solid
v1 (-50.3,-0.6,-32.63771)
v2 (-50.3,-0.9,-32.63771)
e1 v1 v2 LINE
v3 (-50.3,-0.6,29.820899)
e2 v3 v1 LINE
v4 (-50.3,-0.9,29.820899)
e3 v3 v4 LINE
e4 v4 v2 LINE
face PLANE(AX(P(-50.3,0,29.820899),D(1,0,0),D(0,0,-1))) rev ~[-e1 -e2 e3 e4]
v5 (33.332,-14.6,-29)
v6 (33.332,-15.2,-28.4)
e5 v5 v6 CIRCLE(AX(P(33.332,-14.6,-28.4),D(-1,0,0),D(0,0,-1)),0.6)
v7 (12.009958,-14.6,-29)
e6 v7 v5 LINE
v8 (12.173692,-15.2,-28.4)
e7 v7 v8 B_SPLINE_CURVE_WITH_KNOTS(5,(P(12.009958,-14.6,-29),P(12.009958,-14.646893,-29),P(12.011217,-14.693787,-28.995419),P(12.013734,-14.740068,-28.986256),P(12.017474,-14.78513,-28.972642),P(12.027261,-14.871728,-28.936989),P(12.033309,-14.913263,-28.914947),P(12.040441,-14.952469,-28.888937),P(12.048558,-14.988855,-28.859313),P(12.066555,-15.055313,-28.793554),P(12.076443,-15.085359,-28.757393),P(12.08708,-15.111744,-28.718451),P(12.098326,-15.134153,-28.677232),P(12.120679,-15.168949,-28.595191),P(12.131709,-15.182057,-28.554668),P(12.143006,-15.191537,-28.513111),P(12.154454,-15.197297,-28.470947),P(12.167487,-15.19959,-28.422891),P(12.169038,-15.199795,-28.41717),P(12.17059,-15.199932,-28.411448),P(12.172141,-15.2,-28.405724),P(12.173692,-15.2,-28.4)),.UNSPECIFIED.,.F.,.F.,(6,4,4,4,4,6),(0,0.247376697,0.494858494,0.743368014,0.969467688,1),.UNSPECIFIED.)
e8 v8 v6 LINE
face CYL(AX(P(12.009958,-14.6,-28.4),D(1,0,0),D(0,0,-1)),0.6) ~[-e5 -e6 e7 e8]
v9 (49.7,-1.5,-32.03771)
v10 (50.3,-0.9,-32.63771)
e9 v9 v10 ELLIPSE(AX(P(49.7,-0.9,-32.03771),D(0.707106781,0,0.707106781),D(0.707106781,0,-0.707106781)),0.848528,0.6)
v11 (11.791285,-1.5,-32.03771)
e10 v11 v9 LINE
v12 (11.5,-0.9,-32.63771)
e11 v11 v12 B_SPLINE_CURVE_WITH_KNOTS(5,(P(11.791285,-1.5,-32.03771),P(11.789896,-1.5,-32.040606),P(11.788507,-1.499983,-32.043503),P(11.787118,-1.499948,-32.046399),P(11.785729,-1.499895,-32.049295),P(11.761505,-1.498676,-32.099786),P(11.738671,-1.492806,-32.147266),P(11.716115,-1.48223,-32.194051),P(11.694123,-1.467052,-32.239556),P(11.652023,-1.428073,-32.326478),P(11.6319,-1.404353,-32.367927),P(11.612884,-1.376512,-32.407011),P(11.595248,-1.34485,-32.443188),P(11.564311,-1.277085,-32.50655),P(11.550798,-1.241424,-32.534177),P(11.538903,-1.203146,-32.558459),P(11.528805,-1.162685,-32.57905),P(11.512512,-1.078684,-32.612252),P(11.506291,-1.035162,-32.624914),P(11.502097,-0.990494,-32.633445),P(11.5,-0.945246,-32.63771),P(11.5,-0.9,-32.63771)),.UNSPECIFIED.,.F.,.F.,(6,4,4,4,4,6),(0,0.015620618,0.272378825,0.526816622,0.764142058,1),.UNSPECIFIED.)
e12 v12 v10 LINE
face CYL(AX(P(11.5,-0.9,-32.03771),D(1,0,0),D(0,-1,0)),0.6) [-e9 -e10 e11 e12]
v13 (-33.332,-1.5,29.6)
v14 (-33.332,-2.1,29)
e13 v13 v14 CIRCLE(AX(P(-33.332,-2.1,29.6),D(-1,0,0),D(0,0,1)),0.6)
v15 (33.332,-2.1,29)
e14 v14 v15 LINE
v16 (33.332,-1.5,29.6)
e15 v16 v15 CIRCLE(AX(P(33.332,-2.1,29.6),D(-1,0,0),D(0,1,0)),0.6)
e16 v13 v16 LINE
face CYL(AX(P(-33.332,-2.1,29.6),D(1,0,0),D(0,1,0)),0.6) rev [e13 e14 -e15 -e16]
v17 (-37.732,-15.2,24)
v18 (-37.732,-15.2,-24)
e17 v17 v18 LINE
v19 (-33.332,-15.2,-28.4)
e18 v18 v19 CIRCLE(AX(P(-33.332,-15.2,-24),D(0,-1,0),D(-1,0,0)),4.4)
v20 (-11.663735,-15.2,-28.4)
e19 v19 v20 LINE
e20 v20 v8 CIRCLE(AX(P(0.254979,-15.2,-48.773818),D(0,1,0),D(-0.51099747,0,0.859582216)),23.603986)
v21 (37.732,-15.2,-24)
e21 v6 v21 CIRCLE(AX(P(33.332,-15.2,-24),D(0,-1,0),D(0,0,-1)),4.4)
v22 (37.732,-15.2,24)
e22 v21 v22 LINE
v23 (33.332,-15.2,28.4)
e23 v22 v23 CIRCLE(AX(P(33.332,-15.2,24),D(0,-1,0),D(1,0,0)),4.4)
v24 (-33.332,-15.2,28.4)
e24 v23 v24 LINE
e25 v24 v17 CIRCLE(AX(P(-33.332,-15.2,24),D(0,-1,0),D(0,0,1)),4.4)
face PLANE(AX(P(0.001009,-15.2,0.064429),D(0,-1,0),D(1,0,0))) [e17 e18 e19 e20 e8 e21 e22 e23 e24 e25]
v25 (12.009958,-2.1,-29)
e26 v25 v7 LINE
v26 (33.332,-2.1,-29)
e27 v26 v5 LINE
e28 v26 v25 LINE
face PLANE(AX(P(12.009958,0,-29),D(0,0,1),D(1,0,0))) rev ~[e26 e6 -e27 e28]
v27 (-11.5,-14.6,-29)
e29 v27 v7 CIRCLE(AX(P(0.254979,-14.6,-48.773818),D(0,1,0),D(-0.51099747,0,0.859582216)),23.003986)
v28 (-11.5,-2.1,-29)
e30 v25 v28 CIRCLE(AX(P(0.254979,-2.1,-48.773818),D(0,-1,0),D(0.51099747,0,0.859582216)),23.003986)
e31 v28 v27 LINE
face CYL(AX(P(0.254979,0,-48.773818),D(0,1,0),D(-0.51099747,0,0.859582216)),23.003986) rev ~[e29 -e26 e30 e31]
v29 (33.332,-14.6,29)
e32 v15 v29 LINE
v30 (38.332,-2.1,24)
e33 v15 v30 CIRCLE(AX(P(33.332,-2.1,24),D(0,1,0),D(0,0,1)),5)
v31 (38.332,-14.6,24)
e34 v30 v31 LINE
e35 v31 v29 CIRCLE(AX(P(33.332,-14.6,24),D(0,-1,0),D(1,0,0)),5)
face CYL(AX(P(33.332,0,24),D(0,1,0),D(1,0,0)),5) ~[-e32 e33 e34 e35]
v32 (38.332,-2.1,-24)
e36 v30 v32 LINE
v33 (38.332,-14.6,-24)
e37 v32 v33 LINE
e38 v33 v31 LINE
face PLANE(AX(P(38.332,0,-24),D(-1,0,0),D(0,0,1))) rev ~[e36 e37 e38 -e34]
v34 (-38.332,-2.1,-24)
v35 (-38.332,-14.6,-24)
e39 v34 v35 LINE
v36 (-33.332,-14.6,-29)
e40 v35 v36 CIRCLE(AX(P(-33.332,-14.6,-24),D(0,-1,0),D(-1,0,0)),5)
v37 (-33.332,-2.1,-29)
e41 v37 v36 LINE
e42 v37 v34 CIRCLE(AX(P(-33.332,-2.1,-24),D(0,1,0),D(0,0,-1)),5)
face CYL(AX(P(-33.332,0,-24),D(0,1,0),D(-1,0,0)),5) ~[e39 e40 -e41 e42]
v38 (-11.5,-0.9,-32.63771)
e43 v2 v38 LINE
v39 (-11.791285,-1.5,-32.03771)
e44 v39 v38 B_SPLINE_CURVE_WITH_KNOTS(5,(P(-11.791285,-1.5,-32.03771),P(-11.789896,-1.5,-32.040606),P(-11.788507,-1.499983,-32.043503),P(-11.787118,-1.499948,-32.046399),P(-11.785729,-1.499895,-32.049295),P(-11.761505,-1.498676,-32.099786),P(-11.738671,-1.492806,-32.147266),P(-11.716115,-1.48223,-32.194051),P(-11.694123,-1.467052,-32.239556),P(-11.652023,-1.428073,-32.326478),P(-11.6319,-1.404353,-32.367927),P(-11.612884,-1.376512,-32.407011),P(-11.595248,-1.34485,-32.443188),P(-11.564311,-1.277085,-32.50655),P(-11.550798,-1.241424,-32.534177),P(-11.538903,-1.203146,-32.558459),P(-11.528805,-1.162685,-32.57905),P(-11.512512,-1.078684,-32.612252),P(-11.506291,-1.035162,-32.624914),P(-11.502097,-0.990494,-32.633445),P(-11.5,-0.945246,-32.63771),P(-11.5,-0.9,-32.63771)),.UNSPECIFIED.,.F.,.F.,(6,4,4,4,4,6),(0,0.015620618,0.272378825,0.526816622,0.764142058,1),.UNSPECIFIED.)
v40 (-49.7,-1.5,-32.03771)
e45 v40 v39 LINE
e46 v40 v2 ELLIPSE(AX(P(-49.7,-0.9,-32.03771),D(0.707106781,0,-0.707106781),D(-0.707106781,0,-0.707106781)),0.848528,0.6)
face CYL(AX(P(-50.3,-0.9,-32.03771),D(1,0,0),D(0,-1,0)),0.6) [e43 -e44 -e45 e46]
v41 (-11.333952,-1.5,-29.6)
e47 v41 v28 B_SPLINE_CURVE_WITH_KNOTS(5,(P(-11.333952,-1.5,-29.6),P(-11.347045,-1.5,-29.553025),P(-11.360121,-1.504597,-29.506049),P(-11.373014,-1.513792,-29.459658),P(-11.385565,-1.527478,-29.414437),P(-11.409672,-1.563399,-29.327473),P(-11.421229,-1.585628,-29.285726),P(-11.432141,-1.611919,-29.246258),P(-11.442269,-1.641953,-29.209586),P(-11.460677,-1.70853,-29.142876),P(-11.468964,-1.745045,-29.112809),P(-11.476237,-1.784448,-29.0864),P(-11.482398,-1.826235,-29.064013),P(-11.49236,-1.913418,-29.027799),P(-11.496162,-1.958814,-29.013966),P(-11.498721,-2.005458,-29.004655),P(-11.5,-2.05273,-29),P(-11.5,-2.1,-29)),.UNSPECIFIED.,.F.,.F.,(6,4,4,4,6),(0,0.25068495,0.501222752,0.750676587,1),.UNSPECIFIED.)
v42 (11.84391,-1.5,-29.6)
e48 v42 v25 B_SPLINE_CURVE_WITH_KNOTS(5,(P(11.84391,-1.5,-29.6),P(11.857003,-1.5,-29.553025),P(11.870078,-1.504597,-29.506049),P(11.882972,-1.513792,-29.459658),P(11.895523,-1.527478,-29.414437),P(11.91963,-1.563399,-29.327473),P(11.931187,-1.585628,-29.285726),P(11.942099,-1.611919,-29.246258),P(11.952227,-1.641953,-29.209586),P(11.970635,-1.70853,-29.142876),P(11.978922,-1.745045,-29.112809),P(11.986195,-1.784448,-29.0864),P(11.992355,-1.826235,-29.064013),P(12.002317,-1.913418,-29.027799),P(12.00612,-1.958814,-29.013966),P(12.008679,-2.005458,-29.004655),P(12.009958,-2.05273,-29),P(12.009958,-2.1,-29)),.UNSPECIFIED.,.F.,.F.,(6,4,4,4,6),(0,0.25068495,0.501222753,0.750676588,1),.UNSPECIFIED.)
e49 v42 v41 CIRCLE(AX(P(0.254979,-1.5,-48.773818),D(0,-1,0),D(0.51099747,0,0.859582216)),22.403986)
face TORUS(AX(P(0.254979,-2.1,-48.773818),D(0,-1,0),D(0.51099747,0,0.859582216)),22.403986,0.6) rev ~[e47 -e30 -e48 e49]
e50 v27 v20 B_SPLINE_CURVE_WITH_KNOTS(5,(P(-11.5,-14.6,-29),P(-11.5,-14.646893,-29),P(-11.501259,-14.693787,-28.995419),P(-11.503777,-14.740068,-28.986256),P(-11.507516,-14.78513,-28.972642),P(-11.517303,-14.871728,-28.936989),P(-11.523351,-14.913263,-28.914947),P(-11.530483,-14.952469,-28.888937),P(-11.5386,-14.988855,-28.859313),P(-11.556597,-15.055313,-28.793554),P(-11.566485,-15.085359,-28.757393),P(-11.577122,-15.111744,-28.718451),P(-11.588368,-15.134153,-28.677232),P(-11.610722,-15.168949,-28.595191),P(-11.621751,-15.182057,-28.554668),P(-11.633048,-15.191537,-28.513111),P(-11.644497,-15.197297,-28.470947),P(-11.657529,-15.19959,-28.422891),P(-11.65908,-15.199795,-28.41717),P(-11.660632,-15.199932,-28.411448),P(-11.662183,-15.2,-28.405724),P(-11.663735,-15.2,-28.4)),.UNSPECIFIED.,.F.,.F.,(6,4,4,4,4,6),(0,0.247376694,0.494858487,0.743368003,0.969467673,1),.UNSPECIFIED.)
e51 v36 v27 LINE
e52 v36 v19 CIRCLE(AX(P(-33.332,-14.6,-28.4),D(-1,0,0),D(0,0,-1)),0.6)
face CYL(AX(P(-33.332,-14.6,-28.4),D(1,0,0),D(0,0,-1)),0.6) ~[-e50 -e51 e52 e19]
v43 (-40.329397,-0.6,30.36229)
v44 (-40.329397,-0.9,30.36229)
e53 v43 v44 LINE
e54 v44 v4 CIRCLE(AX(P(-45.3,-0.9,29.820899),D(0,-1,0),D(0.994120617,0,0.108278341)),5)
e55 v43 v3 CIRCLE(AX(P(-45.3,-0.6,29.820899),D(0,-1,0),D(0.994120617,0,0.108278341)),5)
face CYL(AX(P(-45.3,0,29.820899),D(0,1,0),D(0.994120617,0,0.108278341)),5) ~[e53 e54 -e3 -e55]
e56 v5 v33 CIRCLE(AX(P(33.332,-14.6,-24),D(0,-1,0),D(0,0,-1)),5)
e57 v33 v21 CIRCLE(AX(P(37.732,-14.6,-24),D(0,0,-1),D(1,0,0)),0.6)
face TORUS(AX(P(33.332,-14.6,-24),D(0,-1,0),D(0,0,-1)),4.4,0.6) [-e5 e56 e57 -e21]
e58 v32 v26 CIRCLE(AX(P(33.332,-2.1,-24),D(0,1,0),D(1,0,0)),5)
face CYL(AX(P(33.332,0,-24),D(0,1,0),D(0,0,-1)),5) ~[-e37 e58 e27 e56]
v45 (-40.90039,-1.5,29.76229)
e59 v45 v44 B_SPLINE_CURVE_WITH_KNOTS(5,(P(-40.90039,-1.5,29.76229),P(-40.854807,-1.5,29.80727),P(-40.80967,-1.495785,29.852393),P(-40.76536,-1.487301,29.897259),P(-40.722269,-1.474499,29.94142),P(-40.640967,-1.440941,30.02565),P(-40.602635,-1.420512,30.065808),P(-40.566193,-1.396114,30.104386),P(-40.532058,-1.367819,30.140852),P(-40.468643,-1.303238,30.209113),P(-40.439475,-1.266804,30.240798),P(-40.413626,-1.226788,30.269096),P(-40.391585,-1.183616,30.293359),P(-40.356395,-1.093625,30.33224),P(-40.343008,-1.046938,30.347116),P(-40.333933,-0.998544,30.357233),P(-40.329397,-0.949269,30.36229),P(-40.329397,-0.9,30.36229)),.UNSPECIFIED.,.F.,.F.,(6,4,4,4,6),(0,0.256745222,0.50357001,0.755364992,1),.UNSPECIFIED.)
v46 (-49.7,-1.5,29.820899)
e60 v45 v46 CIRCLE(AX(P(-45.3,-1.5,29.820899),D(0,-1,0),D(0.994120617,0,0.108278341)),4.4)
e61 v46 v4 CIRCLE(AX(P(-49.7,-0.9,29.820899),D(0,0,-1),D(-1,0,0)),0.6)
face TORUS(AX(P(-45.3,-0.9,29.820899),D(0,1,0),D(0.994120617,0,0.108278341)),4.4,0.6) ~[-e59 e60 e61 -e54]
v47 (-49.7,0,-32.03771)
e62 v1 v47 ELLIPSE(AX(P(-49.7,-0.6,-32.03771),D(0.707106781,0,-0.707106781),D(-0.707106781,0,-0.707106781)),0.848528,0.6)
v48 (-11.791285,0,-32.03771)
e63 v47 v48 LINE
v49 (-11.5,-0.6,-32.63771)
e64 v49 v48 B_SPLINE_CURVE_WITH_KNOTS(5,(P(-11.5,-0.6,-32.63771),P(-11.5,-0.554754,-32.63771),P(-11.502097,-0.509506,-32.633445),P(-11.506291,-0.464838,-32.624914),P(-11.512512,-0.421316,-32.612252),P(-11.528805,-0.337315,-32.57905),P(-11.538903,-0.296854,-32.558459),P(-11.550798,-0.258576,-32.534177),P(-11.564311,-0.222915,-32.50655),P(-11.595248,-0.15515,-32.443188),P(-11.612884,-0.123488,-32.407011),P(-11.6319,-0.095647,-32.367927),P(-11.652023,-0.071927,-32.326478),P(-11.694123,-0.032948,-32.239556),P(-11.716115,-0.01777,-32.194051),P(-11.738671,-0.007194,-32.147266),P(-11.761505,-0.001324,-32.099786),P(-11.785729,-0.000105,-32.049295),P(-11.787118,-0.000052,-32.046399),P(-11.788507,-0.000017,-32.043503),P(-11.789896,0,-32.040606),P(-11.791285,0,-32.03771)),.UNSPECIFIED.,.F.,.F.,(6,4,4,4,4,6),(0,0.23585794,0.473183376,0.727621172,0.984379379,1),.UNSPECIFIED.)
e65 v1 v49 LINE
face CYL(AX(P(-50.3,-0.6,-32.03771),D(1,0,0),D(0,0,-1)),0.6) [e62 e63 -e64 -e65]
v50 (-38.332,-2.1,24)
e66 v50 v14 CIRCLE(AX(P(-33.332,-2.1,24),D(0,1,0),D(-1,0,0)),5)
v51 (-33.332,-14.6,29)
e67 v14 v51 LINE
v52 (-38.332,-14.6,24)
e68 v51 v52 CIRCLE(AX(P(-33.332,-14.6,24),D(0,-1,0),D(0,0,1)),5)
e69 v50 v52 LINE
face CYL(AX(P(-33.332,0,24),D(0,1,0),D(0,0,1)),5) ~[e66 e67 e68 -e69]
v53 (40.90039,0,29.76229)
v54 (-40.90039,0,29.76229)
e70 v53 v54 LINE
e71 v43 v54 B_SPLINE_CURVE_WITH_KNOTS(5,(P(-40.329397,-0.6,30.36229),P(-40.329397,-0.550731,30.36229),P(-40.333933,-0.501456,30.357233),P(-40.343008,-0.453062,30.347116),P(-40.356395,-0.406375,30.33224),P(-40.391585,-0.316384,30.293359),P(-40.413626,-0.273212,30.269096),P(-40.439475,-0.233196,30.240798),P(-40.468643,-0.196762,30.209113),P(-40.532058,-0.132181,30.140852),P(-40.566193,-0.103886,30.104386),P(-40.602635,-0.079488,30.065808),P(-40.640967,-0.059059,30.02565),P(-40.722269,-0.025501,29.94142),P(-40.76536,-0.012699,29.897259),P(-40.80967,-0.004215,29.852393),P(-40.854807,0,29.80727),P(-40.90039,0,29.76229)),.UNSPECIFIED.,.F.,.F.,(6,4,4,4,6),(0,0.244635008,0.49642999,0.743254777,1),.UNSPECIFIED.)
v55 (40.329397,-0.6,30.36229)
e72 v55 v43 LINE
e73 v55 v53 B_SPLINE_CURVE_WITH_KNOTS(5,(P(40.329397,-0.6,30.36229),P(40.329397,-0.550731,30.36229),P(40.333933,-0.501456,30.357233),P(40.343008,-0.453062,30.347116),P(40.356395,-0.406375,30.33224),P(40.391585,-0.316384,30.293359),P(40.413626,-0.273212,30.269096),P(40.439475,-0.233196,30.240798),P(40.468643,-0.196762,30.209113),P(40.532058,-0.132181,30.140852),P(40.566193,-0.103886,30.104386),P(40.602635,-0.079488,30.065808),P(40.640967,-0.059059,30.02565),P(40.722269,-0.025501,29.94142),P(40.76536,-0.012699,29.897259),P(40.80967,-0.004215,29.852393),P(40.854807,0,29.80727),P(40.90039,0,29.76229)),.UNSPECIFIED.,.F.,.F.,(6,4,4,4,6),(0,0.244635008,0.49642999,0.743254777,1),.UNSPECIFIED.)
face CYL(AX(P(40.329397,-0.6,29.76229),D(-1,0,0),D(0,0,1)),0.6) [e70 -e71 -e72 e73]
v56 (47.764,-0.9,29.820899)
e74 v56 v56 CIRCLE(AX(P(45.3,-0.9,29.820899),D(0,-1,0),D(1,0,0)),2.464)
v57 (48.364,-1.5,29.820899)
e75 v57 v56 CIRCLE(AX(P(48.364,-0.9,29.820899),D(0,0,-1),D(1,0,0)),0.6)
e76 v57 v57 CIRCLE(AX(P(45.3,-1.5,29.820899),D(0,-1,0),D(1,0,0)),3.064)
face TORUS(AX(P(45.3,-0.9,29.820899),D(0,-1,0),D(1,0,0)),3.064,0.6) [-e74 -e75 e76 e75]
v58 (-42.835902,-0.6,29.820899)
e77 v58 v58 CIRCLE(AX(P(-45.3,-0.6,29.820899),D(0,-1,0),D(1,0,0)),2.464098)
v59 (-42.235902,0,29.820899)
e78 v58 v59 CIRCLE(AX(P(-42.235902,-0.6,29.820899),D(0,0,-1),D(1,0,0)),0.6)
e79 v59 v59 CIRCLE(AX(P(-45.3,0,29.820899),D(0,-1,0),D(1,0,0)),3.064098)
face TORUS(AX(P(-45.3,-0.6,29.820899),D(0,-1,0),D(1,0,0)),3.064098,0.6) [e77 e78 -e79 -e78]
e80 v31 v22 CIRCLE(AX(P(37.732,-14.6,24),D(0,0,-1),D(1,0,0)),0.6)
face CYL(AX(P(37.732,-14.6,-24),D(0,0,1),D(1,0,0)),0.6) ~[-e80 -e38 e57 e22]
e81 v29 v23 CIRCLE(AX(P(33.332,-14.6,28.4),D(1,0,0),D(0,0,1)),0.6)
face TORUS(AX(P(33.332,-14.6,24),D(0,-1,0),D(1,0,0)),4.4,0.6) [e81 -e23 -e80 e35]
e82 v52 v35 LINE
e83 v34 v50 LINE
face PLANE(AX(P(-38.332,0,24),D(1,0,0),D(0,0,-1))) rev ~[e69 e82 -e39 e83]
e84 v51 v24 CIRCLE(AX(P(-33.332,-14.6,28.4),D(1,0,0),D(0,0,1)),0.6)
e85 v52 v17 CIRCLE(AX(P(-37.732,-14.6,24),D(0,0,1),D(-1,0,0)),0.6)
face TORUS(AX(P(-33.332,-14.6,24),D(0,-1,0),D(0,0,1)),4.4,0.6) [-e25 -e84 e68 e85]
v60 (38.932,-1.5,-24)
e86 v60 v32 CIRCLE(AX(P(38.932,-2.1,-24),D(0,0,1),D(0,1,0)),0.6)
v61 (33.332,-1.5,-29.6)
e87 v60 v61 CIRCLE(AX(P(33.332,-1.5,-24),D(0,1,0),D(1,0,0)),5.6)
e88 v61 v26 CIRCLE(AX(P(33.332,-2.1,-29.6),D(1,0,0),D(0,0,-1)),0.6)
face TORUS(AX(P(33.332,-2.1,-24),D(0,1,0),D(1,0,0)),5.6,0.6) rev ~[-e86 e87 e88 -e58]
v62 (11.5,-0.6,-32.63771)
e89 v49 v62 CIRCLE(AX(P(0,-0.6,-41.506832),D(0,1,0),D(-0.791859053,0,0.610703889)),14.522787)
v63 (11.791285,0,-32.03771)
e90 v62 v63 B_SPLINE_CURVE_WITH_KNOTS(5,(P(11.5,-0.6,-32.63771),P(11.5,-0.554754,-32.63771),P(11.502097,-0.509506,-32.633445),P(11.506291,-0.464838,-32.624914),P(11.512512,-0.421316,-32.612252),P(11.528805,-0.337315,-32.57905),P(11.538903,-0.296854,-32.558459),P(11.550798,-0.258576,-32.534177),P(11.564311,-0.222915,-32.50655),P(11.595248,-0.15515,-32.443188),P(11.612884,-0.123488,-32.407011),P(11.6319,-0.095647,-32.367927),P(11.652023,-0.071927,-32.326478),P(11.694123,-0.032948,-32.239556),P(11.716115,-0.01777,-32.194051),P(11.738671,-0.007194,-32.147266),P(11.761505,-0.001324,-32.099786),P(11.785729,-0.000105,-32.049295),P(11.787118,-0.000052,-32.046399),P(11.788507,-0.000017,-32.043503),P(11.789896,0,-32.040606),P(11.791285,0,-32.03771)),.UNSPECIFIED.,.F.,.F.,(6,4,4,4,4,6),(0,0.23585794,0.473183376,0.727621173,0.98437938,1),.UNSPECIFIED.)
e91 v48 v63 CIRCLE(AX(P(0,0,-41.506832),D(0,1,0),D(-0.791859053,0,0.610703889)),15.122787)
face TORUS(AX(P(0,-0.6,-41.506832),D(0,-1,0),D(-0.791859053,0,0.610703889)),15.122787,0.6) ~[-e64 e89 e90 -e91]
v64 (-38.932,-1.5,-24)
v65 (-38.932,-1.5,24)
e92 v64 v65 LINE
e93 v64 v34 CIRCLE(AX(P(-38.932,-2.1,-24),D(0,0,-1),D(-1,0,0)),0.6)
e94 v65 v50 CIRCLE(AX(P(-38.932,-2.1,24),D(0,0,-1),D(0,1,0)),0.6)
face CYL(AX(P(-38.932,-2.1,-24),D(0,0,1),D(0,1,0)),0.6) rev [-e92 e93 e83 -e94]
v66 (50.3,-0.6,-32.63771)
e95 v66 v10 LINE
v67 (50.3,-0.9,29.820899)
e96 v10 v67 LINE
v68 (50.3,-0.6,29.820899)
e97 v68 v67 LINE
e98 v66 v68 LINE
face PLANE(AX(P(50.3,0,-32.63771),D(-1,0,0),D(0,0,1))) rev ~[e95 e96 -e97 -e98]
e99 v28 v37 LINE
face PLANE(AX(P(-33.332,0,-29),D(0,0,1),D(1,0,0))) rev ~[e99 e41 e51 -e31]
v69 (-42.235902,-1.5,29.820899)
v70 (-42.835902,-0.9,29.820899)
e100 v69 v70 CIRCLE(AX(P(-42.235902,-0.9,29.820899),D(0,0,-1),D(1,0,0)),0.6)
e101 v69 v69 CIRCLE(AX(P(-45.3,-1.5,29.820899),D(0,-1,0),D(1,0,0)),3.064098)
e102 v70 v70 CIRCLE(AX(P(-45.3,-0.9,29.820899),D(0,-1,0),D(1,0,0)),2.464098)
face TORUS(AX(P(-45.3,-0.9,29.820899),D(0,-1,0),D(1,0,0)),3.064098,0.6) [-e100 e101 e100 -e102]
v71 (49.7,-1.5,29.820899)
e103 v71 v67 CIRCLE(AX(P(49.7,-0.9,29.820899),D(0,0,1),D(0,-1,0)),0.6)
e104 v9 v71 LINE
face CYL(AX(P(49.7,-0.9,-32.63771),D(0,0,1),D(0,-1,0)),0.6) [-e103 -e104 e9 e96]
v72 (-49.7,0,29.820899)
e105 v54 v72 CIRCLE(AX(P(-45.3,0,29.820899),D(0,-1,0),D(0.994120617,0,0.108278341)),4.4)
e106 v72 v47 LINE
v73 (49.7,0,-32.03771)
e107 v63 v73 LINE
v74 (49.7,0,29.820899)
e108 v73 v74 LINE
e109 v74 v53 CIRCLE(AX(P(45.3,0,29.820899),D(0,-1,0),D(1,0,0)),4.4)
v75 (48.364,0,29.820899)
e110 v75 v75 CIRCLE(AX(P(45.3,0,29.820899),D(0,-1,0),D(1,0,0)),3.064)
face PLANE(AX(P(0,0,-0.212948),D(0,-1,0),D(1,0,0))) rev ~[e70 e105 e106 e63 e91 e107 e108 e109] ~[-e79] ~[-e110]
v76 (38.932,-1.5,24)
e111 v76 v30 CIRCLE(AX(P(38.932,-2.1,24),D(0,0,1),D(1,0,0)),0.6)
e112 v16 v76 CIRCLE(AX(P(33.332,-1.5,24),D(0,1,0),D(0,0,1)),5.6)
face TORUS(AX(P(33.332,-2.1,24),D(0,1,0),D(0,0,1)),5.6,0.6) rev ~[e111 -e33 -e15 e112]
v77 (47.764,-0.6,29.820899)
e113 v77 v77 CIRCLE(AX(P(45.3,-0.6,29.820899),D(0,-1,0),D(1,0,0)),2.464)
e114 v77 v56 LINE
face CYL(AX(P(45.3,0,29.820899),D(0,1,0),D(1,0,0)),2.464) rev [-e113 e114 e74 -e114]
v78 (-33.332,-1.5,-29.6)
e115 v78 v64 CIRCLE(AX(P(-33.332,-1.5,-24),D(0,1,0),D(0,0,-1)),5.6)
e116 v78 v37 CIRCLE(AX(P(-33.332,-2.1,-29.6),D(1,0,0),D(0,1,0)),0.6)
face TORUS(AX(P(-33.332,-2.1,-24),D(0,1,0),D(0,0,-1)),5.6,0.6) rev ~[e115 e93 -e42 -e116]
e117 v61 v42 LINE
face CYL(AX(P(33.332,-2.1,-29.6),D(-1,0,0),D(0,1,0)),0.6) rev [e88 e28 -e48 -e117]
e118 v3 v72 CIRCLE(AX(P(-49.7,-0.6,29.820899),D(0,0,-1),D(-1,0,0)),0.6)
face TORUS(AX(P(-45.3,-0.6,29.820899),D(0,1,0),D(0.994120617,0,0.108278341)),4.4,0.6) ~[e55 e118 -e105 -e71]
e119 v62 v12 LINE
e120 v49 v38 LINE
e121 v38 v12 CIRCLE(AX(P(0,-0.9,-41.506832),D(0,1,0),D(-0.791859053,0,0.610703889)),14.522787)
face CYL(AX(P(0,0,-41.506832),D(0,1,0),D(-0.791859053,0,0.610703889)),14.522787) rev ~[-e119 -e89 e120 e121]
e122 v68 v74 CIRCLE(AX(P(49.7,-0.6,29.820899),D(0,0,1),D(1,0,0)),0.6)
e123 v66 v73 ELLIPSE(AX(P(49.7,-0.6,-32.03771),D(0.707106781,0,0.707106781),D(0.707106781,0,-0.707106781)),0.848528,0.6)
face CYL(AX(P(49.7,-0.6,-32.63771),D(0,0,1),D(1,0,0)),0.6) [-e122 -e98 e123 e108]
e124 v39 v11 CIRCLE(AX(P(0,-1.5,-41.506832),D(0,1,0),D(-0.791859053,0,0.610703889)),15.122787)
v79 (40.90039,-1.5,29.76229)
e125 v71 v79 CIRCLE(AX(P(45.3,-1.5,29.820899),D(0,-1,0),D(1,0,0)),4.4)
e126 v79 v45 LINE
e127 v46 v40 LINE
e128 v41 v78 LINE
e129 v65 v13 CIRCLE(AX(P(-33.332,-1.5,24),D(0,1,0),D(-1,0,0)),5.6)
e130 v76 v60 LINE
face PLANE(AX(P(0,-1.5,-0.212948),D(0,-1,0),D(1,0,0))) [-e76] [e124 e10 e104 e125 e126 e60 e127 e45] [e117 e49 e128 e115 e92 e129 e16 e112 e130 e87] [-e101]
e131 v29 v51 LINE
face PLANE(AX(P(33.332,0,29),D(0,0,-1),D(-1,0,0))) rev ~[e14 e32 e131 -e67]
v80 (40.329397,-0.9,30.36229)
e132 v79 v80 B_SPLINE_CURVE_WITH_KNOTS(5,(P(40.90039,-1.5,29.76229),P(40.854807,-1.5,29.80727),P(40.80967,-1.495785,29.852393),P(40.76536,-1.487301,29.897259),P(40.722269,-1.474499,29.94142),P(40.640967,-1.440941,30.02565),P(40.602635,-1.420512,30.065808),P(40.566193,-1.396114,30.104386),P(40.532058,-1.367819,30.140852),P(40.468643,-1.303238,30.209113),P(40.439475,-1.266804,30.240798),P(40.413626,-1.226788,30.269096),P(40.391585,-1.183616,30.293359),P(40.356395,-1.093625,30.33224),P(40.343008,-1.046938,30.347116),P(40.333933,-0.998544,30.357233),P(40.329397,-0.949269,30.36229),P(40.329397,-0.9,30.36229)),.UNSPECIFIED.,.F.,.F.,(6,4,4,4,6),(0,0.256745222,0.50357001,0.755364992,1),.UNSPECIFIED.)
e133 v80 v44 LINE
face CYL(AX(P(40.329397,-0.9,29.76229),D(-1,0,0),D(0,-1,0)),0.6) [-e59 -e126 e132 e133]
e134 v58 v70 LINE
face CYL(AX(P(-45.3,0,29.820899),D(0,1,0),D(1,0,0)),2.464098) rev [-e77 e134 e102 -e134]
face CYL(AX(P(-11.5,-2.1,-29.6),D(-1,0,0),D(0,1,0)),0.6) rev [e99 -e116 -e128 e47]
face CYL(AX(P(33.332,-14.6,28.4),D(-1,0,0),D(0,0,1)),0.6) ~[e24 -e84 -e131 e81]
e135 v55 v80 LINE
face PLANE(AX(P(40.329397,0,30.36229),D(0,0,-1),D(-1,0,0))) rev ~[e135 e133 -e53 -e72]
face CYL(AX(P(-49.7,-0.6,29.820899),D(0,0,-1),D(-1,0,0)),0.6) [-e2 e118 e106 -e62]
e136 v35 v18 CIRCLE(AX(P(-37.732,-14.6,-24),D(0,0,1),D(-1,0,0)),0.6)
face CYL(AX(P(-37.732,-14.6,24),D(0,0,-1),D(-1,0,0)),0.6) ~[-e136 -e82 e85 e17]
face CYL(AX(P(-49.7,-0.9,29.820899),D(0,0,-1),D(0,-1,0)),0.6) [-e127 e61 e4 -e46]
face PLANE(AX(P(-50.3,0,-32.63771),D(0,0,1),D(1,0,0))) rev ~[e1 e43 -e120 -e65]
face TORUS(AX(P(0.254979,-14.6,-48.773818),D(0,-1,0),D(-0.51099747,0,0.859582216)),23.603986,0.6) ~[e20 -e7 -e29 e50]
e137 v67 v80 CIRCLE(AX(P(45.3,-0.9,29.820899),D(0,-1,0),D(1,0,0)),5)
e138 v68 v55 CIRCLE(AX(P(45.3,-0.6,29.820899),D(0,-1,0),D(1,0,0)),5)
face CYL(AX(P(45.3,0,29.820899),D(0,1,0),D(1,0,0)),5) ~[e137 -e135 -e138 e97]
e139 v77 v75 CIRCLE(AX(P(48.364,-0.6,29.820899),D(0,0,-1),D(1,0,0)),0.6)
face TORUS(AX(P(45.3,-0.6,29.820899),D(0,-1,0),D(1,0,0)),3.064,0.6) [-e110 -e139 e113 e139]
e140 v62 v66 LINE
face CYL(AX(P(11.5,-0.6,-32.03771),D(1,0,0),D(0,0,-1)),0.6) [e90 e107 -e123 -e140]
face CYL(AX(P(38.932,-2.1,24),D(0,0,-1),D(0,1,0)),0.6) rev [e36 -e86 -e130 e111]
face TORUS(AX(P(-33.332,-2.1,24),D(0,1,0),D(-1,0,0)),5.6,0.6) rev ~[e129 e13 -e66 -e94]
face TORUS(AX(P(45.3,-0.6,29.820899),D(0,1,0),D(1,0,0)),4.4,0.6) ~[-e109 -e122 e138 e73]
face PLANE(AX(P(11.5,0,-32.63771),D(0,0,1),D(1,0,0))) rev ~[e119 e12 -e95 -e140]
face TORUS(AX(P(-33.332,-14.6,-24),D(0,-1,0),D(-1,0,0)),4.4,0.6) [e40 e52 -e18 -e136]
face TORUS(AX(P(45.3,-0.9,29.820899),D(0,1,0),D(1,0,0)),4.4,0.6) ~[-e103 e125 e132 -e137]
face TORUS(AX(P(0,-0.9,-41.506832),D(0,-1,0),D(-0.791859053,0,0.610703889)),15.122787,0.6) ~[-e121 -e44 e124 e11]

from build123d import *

# Parameters (mm, degrees)
F0_R     = 2.4640984725
F0_R_2   = 2.464
F1_DEPTH = 1.5
F2_DEPTH = 15.2
F3_R     = 0.6


with BuildPart() as f1:
    # F0 (on Front) → F1 (new body)
    with BuildSketch(Plane.XZ):
        with BuildLine():
            Line((11.5, -32.6377095831), (50.3, -32.6377095831))
            Line((50.3, -32.6377095831), (50.3, 29.8208987117))
            ThreePointArc((50.3, 29.8208987117), (45.5710946132, 34.8135440737), (40.3293969157, 30.3622904169))
            Line((40.3293969157, 30.3622904169), (-40.3293969157, 30.3622904169))
            ThreePointArc((-40.3293969157, 30.3622904169), (-45.5710946132, 34.8135440737), (-50.3, 29.8208987117))
            Line((-50.3, 29.8208987117), (-50.3, -32.6377095831))
            Line((-50.3, -32.6377095831), (-11.5, -32.6377095831))
            ThreePointArc((-11.5, -32.6377095831), (0, -26.9840452651), (11.5, -32.6377095831))
        make_face()
        with BuildLine():
            Line((-33.332, 29), (33.332, 29))
            ThreePointArc((33.332, 29), (36.8675339059, 27.5355339059), (38.332, 24))
            Line((38.332, 24), (38.332, -24))
            ThreePointArc((38.332, -24), (36.8675339059, -27.5355339059), (33.332, -29))
            Line((33.332, -29), (12.0099578053, -29))
            ThreePointArc((12.0099578053, -29), (0.2549789026, -25.769831184), (-11.5, -29))
            Line((-11.5, -29), (-33.332, -29))
            ThreePointArc((-33.332, -29), (-36.8675339059, -27.5355339059), (-38.332, -24))
            Line((-38.332, -24), (-38.332, 24))
            ThreePointArc((-38.332, 24), (-36.8675339059, 27.5355339059), (-33.332, 29))
        make_face(mode=Mode.SUBTRACT)
        with Locations((-45.3, 29.8208987117)):
            Circle(F0_R, mode=Mode.SUBTRACT)
        with Locations((45.3, 29.8208987117)):
            Circle(F0_R_2, mode=Mode.SUBTRACT)
    extrude(amount=F1_DEPTH)

    # F0 (on Front) → F2 (join)
    with BuildSketch(Plane.XZ):
        with BuildLine():
            ThreePointArc((38.332, 24), (36.8675339059, 27.5355339059), (33.332, 29))
            Line((33.332, 29), (-33.332, 29))
            ThreePointArc((-33.332, 29), (-36.8675339059, 27.5355339059), (-38.332, 24))
            Line((-38.332, 24), (-38.332, -24))
            ThreePointArc((-38.332, -24), (-36.8675339059, -27.5355339059), (-33.332, -29))
            Line((-33.332, -29), (-11.5, -29))
            ThreePointArc((-11.5, -29), (0.2549789026, -25.769831184), (12.0099578053, -29))
            Line((12.0099578053, -29), (33.332, -29))
            ThreePointArc((33.332, -29), (36.8675339059, -27.5355339059), (38.332, -24))
            Line((38.332, -24), (38.332, 24))
        make_face()
    extrude(amount=F2_DEPTH)

    # F3
    f3_edges = [f1.edges().sort_by_distance(p)[0] for p in [
        (36.867534, -15.2, 27.535534),
        (0, -15.2, 29),
        (-36.867534, -15.2, 27.535534),
        (-38.332, -15.2, 0),
        (-36.867534, -15.2, -27.535534),
        (-22.416, -15.2, -29),
        (0.254979, -15.2, -25.769831),
        (22.670979, -15.2, -29),
        (36.867534, -15.2, -27.535534),
        (38.332, -15.2, 0),
        (30.9, -1.5, -32.63771),
        (50.3, -1.5, -1.408405),
        (45.571095, -1.5, 34.813544),
        (0, -1.5, 30.36229),
        (-45.571095, -1.5, 34.813544),
        (-50.3, -1.5, -1.408405),
        (-30.9, -1.5, -32.63771),
        (0, -1.5, -26.984045),
        (0, -1.5, 29),
        (36.867534, -1.5, 27.535534),
        (38.332, -1.5, 0),
        (36.867534, -1.5, -27.535534),
        (22.670979, -1.5, -29),
        (0.254979, -1.5, -25.769831),
        (-22.416, -1.5, -29),
        (-36.867534, -1.5, -27.535534),
        (-38.332, -1.5, 0),
        (-36.867534, -1.5, 27.535534),
        (-47.764098, -1.5, 29.820899),
        (42.836, -1.5, 29.820899),
        (30.9, 0, -32.63771),
        (50.3, 0, -1.408405),
        (45.571095, 0, 34.813544),
        (0, 0, 30.36229),
        (-45.571095, 0, 34.813544),
        (-50.3, 0, -1.408405),
        (-30.9, 0, -32.63771),
        (0, 0, -26.984045),
        (-47.764098, 0, 29.820899),
        (42.836, 0, 29.820899),
    ]]
    fillet(f3_edges, radius=F3_R)


solid = f1.part
